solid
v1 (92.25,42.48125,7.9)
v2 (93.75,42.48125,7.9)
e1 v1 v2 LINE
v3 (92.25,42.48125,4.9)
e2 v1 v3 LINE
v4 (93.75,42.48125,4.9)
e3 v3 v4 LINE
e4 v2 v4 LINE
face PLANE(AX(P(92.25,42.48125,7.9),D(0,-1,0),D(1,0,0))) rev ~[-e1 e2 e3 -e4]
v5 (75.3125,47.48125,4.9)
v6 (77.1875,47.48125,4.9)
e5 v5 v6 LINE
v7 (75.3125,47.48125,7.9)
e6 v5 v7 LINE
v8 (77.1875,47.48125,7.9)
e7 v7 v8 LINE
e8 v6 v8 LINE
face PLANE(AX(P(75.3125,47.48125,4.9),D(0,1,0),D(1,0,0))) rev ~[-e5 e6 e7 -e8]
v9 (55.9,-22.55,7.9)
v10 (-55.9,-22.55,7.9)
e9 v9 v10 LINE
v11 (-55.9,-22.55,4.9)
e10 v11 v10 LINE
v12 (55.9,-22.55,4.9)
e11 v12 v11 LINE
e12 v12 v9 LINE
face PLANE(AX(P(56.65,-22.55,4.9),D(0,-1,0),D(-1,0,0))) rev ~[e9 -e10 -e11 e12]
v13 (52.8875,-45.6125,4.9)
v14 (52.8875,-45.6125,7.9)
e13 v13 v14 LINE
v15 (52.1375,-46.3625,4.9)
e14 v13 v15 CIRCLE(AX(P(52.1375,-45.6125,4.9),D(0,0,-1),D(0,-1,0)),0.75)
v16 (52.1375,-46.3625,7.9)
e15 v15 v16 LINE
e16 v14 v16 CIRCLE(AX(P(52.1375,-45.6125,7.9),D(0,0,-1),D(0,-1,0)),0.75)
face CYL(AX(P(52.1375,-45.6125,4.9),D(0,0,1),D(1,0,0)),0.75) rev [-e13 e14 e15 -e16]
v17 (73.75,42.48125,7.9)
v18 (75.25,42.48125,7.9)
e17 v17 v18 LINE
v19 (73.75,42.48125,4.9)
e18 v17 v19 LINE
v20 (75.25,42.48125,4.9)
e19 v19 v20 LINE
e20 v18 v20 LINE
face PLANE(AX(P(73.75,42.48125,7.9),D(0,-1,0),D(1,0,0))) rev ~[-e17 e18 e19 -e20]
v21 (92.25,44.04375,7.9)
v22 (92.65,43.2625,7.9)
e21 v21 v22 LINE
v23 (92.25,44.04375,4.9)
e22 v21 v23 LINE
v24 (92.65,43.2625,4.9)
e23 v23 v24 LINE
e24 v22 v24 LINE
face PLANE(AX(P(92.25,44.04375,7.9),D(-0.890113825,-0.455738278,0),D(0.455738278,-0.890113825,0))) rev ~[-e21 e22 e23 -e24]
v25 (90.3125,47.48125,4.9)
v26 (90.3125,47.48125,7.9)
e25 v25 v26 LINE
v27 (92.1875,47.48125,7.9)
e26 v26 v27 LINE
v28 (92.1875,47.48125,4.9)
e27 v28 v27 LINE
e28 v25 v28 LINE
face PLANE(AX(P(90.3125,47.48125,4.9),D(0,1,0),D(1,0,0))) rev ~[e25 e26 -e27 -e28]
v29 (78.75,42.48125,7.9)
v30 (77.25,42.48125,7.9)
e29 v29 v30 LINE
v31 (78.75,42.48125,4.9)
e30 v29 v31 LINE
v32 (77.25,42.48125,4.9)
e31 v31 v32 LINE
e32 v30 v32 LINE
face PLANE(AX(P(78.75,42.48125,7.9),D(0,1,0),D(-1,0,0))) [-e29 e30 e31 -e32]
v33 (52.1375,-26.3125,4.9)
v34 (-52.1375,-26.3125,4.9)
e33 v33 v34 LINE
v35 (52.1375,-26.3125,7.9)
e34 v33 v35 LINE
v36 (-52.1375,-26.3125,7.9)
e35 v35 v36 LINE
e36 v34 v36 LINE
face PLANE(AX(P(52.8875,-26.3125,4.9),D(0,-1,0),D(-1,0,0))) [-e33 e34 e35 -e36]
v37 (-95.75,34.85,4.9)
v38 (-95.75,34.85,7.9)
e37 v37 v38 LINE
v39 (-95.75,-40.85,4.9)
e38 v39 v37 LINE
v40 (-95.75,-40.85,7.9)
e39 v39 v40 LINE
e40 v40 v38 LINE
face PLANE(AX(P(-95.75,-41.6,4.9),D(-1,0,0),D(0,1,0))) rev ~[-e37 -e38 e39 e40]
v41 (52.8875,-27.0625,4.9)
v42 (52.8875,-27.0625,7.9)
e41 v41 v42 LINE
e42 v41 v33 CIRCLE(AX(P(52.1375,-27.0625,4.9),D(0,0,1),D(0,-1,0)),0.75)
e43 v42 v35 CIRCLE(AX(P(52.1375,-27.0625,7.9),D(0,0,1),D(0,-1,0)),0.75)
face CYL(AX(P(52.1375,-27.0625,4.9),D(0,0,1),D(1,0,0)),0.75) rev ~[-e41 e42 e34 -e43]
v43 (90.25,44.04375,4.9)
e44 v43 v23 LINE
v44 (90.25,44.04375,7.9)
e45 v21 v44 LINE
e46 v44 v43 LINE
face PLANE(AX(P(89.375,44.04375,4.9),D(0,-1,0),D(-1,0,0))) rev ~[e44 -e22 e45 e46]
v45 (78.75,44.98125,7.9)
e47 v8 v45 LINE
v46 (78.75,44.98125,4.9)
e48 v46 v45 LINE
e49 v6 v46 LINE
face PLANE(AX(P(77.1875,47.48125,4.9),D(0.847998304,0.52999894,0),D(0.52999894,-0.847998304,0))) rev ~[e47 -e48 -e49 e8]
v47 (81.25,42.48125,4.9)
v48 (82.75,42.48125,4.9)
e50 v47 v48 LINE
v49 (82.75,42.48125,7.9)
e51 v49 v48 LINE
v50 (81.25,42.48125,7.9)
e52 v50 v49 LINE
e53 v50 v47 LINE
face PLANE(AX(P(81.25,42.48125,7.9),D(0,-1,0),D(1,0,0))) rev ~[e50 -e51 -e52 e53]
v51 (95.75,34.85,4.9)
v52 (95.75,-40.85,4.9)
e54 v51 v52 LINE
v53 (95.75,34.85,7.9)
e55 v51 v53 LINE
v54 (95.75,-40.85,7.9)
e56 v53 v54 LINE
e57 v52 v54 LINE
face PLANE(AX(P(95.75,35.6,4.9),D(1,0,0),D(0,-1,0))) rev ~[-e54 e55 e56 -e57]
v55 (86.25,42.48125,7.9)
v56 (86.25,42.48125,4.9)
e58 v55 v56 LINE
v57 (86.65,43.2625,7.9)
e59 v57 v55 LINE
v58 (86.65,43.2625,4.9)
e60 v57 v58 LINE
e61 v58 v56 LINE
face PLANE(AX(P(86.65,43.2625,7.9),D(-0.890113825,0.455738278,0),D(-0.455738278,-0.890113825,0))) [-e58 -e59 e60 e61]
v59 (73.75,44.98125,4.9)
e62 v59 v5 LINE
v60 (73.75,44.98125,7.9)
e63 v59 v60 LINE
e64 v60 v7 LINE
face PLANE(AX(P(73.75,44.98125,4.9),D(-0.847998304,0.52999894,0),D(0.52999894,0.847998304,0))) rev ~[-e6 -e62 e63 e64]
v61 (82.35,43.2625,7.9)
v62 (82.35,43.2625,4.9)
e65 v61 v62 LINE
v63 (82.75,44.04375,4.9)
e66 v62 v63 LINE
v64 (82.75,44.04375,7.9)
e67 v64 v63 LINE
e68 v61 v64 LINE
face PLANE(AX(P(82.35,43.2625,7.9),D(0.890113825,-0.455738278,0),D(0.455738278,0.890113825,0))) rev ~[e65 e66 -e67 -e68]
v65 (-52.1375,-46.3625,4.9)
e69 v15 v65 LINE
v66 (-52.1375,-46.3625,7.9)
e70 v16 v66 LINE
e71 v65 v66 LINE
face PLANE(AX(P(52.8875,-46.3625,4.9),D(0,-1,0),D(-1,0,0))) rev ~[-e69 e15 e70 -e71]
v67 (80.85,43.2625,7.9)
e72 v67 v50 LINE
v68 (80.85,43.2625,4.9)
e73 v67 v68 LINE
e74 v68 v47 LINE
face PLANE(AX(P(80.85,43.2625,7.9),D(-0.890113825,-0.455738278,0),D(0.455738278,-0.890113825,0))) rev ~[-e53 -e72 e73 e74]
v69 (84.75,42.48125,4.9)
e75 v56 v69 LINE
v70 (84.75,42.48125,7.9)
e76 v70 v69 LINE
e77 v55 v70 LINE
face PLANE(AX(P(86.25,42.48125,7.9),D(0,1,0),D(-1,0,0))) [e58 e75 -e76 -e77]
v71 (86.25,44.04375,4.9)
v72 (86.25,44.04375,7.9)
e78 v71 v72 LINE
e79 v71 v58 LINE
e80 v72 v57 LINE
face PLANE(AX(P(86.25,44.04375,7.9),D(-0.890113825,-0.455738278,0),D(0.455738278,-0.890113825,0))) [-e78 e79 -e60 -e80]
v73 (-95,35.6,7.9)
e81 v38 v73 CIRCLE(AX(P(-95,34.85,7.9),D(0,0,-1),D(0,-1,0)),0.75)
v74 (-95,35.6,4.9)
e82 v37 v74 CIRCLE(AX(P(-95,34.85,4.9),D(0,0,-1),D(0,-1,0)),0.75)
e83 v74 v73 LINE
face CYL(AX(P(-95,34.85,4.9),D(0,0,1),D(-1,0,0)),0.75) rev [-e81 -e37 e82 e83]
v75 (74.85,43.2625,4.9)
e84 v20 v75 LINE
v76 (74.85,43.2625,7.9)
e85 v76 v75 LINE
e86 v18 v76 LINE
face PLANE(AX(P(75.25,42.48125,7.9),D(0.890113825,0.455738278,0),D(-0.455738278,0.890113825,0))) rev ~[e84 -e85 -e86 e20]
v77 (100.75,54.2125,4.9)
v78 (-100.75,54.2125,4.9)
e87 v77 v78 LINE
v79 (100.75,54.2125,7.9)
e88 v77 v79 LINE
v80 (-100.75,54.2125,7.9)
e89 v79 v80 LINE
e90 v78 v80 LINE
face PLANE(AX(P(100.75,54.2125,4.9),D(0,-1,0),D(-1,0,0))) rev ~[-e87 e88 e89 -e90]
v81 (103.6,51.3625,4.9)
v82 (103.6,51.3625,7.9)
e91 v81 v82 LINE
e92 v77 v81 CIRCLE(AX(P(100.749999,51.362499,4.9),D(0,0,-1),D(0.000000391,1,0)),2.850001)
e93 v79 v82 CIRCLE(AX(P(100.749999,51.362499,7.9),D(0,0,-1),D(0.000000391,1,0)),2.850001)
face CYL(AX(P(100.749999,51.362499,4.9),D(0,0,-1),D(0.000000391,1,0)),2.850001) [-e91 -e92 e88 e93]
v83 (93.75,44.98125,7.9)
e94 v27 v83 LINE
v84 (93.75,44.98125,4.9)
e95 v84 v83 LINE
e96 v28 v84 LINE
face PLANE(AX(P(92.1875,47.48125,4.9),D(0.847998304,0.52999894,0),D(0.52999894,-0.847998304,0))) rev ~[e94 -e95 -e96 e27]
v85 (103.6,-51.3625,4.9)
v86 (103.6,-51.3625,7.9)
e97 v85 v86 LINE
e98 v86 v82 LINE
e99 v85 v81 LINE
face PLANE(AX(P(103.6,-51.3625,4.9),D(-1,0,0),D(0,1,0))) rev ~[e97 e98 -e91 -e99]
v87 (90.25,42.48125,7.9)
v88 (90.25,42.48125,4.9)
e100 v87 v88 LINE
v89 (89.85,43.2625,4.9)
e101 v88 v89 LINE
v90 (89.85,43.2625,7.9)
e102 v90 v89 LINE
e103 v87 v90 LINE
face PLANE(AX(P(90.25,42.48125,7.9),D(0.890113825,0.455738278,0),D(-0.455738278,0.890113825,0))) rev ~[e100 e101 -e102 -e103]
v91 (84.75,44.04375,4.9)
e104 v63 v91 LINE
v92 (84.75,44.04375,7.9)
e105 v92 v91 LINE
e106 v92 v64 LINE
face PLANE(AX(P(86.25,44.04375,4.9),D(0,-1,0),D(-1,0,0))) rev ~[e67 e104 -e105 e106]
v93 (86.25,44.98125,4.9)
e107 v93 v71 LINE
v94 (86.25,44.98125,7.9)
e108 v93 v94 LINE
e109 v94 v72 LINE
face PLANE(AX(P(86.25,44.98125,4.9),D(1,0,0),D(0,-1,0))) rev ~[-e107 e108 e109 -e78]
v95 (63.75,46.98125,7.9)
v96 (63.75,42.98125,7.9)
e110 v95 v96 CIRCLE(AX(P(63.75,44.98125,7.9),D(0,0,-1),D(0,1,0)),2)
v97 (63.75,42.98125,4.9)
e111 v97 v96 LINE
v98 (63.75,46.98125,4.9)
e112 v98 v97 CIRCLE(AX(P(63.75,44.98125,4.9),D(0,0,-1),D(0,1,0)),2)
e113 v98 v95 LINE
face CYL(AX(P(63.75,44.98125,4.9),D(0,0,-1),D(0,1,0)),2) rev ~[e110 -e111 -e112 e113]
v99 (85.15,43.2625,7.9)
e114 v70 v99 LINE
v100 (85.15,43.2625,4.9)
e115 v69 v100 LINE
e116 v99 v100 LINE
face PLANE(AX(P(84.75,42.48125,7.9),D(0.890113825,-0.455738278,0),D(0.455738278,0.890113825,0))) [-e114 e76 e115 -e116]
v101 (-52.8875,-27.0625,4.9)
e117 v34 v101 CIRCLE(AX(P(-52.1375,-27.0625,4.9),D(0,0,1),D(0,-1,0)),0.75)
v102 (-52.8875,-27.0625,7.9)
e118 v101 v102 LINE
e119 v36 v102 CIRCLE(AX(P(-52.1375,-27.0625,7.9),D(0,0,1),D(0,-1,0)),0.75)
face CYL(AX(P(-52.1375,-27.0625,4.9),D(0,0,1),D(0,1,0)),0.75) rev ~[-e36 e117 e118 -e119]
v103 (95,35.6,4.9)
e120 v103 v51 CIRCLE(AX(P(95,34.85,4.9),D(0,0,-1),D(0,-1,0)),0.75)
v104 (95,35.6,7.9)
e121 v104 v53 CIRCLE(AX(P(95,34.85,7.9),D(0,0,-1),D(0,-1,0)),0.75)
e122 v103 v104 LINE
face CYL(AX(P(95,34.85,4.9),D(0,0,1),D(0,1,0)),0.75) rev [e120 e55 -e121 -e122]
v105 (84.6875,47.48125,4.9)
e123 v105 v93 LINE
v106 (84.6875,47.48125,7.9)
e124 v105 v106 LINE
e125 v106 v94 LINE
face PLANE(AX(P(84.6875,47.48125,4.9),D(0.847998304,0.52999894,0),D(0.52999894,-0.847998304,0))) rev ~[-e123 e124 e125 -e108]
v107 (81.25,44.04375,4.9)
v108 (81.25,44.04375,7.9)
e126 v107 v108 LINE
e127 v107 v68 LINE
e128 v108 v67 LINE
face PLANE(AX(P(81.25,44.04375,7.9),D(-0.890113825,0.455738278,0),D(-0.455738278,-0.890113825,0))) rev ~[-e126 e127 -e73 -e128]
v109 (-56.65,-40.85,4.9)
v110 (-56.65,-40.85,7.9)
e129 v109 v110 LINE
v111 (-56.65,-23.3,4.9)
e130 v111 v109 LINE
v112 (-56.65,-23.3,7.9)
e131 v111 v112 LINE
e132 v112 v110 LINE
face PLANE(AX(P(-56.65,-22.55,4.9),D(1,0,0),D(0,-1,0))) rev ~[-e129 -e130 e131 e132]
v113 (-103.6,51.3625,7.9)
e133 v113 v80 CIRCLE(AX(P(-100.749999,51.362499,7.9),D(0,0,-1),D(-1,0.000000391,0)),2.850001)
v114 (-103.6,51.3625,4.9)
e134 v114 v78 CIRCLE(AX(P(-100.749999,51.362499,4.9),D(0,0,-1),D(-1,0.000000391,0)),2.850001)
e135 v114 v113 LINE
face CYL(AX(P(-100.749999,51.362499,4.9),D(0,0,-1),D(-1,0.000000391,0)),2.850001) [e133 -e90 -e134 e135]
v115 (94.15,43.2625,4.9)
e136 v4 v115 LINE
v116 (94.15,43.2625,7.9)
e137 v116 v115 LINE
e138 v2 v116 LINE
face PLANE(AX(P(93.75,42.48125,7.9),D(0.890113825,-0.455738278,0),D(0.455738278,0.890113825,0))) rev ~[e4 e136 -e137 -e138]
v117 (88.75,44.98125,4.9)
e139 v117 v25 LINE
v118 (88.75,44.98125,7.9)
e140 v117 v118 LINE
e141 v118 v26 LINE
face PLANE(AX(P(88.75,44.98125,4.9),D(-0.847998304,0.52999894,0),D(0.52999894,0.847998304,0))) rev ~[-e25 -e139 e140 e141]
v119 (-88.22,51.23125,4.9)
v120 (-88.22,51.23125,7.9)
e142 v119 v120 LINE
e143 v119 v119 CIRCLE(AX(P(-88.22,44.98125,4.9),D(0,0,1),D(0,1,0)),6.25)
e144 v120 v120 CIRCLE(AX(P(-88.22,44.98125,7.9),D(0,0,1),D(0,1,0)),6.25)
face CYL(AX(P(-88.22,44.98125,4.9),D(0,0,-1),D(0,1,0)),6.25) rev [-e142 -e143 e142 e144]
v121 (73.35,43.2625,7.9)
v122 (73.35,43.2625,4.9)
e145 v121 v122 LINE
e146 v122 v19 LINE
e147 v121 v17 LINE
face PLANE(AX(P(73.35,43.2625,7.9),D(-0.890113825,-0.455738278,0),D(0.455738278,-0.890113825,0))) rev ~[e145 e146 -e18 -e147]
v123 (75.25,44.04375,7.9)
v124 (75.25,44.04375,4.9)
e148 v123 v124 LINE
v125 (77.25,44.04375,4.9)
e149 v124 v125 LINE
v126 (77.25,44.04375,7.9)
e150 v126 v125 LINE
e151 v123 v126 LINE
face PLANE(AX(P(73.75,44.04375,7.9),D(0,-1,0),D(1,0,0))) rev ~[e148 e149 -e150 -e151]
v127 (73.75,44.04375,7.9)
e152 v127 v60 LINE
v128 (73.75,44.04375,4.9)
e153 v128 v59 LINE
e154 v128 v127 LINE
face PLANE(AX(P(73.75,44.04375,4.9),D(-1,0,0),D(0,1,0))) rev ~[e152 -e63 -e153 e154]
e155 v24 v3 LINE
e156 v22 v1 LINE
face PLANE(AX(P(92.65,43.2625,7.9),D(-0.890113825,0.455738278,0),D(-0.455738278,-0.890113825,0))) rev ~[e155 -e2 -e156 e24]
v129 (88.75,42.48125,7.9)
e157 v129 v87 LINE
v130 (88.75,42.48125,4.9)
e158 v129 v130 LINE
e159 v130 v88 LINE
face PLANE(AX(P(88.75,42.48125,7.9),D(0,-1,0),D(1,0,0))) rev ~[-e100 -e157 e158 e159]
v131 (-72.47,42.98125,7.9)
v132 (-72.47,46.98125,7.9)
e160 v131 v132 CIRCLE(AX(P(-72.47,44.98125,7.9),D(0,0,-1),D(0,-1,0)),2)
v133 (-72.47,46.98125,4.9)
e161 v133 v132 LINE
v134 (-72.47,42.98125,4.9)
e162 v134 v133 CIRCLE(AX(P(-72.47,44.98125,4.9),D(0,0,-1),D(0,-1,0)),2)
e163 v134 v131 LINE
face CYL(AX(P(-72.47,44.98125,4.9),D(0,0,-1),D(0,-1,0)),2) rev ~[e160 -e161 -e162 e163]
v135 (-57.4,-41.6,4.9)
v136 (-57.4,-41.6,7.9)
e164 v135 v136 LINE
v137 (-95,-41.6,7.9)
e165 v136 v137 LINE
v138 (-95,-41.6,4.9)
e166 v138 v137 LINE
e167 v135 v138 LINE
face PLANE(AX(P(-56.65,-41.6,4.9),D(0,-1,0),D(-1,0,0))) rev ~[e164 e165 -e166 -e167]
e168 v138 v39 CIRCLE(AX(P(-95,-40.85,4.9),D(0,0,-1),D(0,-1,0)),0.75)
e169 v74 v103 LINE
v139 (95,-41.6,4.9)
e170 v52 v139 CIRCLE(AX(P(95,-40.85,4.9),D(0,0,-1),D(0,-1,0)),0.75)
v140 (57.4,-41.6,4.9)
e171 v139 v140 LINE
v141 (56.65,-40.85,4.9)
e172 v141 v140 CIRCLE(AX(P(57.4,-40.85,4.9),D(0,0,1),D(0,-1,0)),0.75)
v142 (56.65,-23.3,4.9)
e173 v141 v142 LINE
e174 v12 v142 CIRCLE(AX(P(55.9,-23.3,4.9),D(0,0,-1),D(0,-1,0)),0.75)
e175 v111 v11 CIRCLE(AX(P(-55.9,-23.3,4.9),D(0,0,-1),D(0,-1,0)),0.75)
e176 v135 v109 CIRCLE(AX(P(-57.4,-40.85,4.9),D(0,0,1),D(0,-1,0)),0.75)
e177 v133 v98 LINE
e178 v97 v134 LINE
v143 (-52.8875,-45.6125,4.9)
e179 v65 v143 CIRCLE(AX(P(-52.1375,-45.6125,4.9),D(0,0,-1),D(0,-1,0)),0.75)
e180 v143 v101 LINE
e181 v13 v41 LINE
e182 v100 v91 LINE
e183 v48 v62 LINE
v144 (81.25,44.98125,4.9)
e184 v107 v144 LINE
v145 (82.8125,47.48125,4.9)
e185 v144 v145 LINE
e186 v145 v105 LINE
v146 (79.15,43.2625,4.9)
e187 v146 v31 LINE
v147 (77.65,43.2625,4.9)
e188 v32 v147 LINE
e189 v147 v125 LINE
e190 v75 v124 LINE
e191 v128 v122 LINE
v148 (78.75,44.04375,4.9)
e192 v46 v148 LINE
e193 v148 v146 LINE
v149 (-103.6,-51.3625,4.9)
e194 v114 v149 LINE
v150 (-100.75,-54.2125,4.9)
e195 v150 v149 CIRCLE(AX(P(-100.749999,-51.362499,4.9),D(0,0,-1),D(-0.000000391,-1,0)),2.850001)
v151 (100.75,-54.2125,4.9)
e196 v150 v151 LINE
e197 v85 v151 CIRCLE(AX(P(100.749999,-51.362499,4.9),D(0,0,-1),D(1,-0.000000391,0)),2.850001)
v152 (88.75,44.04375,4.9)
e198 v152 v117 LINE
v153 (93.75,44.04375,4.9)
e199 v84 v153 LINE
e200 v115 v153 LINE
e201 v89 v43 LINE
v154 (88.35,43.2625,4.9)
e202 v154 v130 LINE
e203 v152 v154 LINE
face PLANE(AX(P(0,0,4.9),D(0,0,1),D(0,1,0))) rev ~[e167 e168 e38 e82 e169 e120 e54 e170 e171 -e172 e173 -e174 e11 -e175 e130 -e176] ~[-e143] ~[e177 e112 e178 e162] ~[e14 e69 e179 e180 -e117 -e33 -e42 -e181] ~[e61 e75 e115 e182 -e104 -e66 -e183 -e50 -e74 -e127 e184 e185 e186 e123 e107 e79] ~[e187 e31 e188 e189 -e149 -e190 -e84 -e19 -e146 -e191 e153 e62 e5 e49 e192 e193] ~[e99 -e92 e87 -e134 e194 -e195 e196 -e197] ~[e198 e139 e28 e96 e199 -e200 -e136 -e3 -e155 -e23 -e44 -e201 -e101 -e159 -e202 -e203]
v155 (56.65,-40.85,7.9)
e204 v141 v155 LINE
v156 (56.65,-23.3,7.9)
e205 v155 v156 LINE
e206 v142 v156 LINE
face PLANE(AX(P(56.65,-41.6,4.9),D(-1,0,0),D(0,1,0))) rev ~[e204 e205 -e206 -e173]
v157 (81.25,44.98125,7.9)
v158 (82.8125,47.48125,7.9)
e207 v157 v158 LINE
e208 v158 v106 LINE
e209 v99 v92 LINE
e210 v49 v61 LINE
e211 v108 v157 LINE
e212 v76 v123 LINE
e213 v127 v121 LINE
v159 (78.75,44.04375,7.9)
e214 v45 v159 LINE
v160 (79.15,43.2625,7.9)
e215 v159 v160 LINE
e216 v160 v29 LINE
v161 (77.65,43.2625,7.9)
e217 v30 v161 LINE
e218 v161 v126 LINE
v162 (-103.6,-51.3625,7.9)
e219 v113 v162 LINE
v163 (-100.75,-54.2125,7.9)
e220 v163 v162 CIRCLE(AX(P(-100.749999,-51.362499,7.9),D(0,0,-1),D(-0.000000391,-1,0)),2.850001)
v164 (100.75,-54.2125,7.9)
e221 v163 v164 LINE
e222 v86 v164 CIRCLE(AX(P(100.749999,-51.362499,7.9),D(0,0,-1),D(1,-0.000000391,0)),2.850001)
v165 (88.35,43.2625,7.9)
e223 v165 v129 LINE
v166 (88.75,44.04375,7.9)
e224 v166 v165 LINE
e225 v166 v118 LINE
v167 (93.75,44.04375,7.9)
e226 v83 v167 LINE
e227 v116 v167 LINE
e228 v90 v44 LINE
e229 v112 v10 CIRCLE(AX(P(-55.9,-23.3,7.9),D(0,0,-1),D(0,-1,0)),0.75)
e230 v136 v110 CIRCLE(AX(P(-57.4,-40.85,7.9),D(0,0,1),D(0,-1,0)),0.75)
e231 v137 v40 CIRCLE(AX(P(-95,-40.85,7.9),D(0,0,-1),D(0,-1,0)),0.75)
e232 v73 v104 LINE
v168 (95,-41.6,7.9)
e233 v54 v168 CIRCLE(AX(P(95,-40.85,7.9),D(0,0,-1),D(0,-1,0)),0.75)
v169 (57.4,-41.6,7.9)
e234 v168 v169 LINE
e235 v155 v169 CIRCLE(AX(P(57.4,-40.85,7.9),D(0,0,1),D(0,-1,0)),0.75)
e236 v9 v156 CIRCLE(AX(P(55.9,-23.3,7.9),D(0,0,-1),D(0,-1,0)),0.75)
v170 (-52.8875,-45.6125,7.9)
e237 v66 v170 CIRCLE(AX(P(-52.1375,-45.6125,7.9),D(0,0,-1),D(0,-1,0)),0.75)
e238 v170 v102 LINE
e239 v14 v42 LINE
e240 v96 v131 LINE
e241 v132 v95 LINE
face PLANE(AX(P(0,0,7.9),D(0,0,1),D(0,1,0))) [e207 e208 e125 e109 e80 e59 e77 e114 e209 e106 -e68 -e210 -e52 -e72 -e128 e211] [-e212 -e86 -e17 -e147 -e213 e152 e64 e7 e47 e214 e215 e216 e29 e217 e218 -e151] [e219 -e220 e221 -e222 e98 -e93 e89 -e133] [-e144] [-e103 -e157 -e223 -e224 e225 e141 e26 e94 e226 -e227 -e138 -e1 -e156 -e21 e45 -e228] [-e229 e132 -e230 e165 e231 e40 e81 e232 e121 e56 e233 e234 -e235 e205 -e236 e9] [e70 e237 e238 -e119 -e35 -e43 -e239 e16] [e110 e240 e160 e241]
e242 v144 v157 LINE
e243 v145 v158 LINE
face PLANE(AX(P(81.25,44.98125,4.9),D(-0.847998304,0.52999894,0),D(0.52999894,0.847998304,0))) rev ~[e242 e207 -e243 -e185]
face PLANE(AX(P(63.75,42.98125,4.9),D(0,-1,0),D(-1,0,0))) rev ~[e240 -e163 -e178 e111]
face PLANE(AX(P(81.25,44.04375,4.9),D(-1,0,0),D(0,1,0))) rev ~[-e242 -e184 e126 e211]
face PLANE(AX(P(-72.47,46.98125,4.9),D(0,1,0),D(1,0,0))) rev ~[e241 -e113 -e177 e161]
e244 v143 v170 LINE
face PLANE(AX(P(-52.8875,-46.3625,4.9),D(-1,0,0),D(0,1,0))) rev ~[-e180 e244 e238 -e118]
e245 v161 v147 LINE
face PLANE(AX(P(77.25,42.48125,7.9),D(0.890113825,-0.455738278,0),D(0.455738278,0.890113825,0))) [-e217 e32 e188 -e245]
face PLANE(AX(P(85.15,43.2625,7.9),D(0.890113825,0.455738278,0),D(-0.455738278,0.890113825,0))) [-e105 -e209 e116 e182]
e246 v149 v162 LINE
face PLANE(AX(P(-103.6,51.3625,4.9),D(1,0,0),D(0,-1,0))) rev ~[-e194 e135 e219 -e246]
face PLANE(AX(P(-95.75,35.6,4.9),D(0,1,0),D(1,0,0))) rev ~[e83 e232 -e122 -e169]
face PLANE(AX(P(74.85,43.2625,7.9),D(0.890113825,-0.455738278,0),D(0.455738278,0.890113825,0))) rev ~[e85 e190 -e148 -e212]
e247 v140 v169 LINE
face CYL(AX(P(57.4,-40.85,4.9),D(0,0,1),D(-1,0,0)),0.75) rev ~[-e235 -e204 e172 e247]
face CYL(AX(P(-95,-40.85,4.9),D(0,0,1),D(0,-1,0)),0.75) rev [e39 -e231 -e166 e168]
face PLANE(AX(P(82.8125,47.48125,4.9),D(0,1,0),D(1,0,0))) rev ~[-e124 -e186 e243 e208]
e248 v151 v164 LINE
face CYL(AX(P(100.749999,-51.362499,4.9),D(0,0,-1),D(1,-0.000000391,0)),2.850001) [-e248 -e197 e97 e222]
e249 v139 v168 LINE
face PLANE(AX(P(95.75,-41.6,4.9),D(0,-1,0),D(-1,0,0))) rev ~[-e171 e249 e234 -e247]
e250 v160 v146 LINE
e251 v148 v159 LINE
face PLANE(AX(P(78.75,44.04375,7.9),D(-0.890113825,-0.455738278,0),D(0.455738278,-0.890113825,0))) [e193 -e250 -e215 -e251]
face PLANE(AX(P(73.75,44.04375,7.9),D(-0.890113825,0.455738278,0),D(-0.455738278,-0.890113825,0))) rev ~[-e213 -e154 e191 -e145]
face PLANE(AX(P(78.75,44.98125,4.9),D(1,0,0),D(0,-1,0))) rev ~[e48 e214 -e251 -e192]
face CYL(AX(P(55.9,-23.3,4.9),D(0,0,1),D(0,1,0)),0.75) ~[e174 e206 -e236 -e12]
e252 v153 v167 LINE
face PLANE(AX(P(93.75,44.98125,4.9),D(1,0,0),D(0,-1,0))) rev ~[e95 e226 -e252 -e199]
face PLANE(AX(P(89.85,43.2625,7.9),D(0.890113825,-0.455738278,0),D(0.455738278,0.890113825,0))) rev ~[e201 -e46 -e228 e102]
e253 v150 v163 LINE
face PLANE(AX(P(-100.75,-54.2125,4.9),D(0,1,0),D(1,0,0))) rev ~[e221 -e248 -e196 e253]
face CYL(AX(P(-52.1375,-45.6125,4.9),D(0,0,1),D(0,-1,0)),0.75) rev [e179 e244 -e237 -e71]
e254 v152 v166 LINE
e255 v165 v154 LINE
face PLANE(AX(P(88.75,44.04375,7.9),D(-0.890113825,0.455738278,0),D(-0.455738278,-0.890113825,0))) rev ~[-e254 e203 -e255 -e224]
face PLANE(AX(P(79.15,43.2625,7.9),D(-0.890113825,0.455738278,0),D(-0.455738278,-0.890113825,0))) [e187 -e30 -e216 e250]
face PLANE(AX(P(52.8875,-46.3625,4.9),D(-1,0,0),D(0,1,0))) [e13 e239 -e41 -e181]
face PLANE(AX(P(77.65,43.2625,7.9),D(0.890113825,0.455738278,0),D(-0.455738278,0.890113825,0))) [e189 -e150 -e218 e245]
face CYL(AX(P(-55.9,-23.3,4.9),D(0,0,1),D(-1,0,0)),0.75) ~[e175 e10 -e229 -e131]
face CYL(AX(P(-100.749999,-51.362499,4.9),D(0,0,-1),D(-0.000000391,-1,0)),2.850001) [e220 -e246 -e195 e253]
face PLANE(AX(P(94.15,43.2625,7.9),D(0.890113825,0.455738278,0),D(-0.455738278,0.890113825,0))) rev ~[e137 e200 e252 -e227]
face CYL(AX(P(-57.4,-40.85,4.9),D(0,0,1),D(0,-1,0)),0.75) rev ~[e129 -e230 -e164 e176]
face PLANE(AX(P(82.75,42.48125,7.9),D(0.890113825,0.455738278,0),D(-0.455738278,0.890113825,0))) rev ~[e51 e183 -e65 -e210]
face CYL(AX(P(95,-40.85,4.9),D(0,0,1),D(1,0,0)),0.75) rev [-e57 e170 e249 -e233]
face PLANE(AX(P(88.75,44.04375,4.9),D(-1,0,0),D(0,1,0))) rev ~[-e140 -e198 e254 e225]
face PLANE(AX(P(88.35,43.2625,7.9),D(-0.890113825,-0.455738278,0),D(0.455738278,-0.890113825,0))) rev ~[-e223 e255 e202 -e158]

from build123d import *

# Parameters (mm, degrees)
SHAPEBINDER_W   = 20.05
SHAPEBINDER_H   = 105.775
SHAPEBINDER_R   = 6.25
PAD001_DEPTH    = 3
POCKET006_DEPTH = 3
FILLET001_R     = 0.75
SKETCH035_W     = 20
SKETCH035_H     = 1.5625
PAD015_DEPTH    = 3
POCKET025_DEPTH = 5


with BuildPart() as part:
    # ShapeBinder → Pad001 (new body)
    with BuildSketch(Plane(origin=(1.263411, 2.723963, 4.9), x_dir=(0, 1, 0), z_dir=(0, 0, 1))):
        with BuildLine():
            ThreePointArc((51.638537, 102.013411), (50.759858, 104.134731), (48.638537, 105.013411))
            Line((48.638537, 105.013411), (-54.086463, 105.013411))
            ThreePointArc((-54.086463, 105.013411), (-56.207783, 104.134731), (-57.086463, 102.013411))
            Line((-57.086463, 102.013411), (-57.086463, -99.486589))
            ThreePointArc((-57.086463, -99.486589), (-56.207783, -101.607909), (-54.086463, -102.486589))
            Line((-54.086463, -102.486589), (48.638537, -102.486589))
            ThreePointArc((48.638537, -102.486589), (50.759858, -101.607909), (51.638537, -99.486589))
            Line((51.638537, -99.486589), (51.638537, 102.013411))
        make_face()
        with Locations((-39.061463, 1.263411)):
            Rectangle(SHAPEBINDER_W, SHAPEBINDER_H, mode=Mode.SUBTRACT)
        Polygon((-44.323963, 97.013411), (32.876037, 97.013411), (32.876037, -94.486589), (-44.323963, -94.486589), (-44.323963, -55.386589), (-25.273963, -55.386589), (-25.273963, 57.913411), (-44.323963, 57.913411), align=None, mode=Mode.SUBTRACT)
        with Locations((42.257287, 89.483411)):
            Circle(SHAPEBINDER_R, mode=Mode.SUBTRACT)
        with BuildLine():
            ThreePointArc((40.257287, 73.733411), (42.257287, 75.733411), (44.257287, 73.733411))
            Line((44.257287, 73.733411), (44.257287, -62.486589))
            ThreePointArc((44.257287, -62.486589), (42.257287, -64.486589), (40.257287, -62.486589))
            Line((40.257287, -62.486589), (40.257287, 73.733411))
        make_face(mode=Mode.SUBTRACT)
        Polygon((42.257287, -72.486589), (44.757287, -74.049089), (44.757287, -75.924089), (42.257287, -77.486589), (41.319787, -77.486589), (41.319787, -76.861589), (40.538537, -77.486589), (39.757287, -76.861589), (39.757287, -75.611589), (40.538537, -76.236589), (41.319787, -75.611589), (41.319787, -74.361589), (40.538537, -73.736589), (39.757287, -74.361589), (39.757287, -73.111589), (40.538537, -72.486589), (41.319787, -73.111589), (41.319787, -72.486589), align=None, mode=Mode.SUBTRACT)
        Polygon((42.257287, -79.986589), (44.757287, -81.549089), (44.757287, -83.424089), (42.257287, -84.986589), (41.319787, -84.986589), (41.319787, -84.361589), (40.538537, -84.986589), (39.757287, -84.361589), (39.757287, -83.111589), (40.538537, -83.736589), (41.319787, -83.111589), (41.319787, -81.861589), (40.538537, -81.236589), (39.757287, -81.861589), (39.757287, -80.611589), (40.538537, -79.986589), (41.319787, -80.611589), (41.319787, -79.986589), align=None, mode=Mode.SUBTRACT)
        Polygon((42.257287, -87.486589), (44.757287, -89.049089), (44.757287, -90.924089), (42.257287, -92.486589), (41.319787, -92.486589), (41.319787, -91.861589), (40.538537, -92.486589), (39.757287, -91.861589), (39.757287, -90.611589), (40.538537, -91.236589), (41.319787, -90.611589), (41.319787, -89.361589), (40.538537, -88.736589), (39.757287, -89.361589), (39.757287, -88.111589), (40.538537, -87.486589), (41.319787, -88.111589), (41.319787, -87.486589), align=None, mode=Mode.SUBTRACT)
    extrude(amount=PAD001_DEPTH)

    # Sketch007 (on Face80 of Pad001) → Pocket006 (cut)
    with BuildSketch(Plane(origin=(0, 0, 4.9), x_dir=(1, 0, 0), z_dir=(0, 0, -1))):
        with BuildLine():
            ThreePointArc((-100.75, 56.3625), (-104.285534, 54.898034), (-105.75, 51.3625))
            Line((-105.75, -51.3625), (-105.75, 51.3625))
            ThreePointArc((-105.75, -51.3625), (-104.285534, -54.898034), (-100.75, -56.3625))
            Line((100.75, -56.3625), (-100.75, -56.3625))
            ThreePointArc((100.75, -56.3625), (104.285534, -54.898034), (105.75, -51.3625))
            Line((105.75, 51.3625), (105.75, -51.3625))
            ThreePointArc((105.75, 51.3625), (104.285534, 54.898034), (100.75, 56.3625))
            Line((-100.75, 56.3625), (100.75, 56.3625))
        make_face()
        with BuildLine():
            ThreePointArc((-100.75, 54.2125), (-102.765254, 53.377754), (-103.6, 51.3625))
            Line((-103.6, -51.3625), (-103.6, 51.3625))
            ThreePointArc((-103.6, -51.3625), (-102.765254, -53.377754), (-100.75, -54.2125))
            Line((100.75, -54.2125), (-100.75, -54.2125))
            ThreePointArc((100.75, -54.2125), (102.765254, -53.377754), (103.6, -51.3625))
            Line((103.6, 51.3625), (103.6, -51.3625))
            ThreePointArc((103.6, 51.3625), (102.765254, 53.377754), (100.75, 54.2125))
            Line((-100.75, 54.2125), (100.75, 54.2125))
        make_face(mode=Mode.SUBTRACT)
    extrude(amount=-POCKET006_DEPTH, mode=Mode.SUBTRACT)

    # Fillet001
    fillet001_edges = [part.edges().sort_by_distance(p)[0] for p in [
        (-95.75, 35.6, 6.4),
        (-95.75, -41.6, 6.4),
        (-56.65, -22.55, 6.4),
        (-56.65, -41.6, 6.4),
        (-52.8875, -46.3625, 6.4),
        (52.8875, -46.3625, 6.4),
        (52.8875, -26.3125, 6.4),
        (95.75, 35.6, 6.4),
        (-52.8875, -26.3125, 6.4),
        (95.75, -41.6, 6.4),
        (56.65, -22.55, 6.4),
        (56.65, -41.6, 6.4),
    ]]
    fillet(fillet001_edges, radius=FILLET001_R)

    # Sketch035 (on Face93 of Fillet001) → Pad015 (join)
    with BuildSketch(Plane.XY.offset(7.9)):
        with Locations((83.75, 43.2625)):
            Rectangle(SKETCH035_W, SKETCH035_H)
    extrude(amount=-PAD015_DEPTH)

    # Sketch036 (on Face69 of Pad015) → Pocket025 (cut)
    with BuildSketch(Plane.XY.offset(7.9)):
        Polygon((73.75, 44.04375), (73.35, 43.2625), (73.75, 42.48125), (75.25, 42.48125), (74.85, 43.2625), (75.25, 44.04375), align=None)
        Polygon((78.75, 44.04375), (79.15, 43.2625), (78.75, 42.48125), (77.25, 42.48125), (77.65, 43.2625), (77.25, 44.04375), align=None)
        Polygon((81.25, 44.04375), (80.85, 43.2625), (81.25, 42.48125), (82.75, 42.48125), (82.35, 43.2625), (82.75, 44.04375), align=None)
        Polygon((86.25, 44.04375), (86.65, 43.2625), (86.25, 42.48125), (84.75, 42.48125), (85.15, 43.2625), (84.75, 44.04375), align=None)
        Polygon((88.75, 44.04375), (88.35, 43.2625), (88.75, 42.48125), (90.25, 42.48125), (89.85, 43.2625), (90.25, 44.04375), align=None)
        Polygon((93.75, 44.04375), (92.25, 44.04375), (92.65, 43.2625), (92.25, 42.48125), (93.75, 42.48125), (94.15, 43.2625), align=None)
    extrude(amount=-POCKET025_DEPTH, mode=Mode.SUBTRACT)


solid = part.part
